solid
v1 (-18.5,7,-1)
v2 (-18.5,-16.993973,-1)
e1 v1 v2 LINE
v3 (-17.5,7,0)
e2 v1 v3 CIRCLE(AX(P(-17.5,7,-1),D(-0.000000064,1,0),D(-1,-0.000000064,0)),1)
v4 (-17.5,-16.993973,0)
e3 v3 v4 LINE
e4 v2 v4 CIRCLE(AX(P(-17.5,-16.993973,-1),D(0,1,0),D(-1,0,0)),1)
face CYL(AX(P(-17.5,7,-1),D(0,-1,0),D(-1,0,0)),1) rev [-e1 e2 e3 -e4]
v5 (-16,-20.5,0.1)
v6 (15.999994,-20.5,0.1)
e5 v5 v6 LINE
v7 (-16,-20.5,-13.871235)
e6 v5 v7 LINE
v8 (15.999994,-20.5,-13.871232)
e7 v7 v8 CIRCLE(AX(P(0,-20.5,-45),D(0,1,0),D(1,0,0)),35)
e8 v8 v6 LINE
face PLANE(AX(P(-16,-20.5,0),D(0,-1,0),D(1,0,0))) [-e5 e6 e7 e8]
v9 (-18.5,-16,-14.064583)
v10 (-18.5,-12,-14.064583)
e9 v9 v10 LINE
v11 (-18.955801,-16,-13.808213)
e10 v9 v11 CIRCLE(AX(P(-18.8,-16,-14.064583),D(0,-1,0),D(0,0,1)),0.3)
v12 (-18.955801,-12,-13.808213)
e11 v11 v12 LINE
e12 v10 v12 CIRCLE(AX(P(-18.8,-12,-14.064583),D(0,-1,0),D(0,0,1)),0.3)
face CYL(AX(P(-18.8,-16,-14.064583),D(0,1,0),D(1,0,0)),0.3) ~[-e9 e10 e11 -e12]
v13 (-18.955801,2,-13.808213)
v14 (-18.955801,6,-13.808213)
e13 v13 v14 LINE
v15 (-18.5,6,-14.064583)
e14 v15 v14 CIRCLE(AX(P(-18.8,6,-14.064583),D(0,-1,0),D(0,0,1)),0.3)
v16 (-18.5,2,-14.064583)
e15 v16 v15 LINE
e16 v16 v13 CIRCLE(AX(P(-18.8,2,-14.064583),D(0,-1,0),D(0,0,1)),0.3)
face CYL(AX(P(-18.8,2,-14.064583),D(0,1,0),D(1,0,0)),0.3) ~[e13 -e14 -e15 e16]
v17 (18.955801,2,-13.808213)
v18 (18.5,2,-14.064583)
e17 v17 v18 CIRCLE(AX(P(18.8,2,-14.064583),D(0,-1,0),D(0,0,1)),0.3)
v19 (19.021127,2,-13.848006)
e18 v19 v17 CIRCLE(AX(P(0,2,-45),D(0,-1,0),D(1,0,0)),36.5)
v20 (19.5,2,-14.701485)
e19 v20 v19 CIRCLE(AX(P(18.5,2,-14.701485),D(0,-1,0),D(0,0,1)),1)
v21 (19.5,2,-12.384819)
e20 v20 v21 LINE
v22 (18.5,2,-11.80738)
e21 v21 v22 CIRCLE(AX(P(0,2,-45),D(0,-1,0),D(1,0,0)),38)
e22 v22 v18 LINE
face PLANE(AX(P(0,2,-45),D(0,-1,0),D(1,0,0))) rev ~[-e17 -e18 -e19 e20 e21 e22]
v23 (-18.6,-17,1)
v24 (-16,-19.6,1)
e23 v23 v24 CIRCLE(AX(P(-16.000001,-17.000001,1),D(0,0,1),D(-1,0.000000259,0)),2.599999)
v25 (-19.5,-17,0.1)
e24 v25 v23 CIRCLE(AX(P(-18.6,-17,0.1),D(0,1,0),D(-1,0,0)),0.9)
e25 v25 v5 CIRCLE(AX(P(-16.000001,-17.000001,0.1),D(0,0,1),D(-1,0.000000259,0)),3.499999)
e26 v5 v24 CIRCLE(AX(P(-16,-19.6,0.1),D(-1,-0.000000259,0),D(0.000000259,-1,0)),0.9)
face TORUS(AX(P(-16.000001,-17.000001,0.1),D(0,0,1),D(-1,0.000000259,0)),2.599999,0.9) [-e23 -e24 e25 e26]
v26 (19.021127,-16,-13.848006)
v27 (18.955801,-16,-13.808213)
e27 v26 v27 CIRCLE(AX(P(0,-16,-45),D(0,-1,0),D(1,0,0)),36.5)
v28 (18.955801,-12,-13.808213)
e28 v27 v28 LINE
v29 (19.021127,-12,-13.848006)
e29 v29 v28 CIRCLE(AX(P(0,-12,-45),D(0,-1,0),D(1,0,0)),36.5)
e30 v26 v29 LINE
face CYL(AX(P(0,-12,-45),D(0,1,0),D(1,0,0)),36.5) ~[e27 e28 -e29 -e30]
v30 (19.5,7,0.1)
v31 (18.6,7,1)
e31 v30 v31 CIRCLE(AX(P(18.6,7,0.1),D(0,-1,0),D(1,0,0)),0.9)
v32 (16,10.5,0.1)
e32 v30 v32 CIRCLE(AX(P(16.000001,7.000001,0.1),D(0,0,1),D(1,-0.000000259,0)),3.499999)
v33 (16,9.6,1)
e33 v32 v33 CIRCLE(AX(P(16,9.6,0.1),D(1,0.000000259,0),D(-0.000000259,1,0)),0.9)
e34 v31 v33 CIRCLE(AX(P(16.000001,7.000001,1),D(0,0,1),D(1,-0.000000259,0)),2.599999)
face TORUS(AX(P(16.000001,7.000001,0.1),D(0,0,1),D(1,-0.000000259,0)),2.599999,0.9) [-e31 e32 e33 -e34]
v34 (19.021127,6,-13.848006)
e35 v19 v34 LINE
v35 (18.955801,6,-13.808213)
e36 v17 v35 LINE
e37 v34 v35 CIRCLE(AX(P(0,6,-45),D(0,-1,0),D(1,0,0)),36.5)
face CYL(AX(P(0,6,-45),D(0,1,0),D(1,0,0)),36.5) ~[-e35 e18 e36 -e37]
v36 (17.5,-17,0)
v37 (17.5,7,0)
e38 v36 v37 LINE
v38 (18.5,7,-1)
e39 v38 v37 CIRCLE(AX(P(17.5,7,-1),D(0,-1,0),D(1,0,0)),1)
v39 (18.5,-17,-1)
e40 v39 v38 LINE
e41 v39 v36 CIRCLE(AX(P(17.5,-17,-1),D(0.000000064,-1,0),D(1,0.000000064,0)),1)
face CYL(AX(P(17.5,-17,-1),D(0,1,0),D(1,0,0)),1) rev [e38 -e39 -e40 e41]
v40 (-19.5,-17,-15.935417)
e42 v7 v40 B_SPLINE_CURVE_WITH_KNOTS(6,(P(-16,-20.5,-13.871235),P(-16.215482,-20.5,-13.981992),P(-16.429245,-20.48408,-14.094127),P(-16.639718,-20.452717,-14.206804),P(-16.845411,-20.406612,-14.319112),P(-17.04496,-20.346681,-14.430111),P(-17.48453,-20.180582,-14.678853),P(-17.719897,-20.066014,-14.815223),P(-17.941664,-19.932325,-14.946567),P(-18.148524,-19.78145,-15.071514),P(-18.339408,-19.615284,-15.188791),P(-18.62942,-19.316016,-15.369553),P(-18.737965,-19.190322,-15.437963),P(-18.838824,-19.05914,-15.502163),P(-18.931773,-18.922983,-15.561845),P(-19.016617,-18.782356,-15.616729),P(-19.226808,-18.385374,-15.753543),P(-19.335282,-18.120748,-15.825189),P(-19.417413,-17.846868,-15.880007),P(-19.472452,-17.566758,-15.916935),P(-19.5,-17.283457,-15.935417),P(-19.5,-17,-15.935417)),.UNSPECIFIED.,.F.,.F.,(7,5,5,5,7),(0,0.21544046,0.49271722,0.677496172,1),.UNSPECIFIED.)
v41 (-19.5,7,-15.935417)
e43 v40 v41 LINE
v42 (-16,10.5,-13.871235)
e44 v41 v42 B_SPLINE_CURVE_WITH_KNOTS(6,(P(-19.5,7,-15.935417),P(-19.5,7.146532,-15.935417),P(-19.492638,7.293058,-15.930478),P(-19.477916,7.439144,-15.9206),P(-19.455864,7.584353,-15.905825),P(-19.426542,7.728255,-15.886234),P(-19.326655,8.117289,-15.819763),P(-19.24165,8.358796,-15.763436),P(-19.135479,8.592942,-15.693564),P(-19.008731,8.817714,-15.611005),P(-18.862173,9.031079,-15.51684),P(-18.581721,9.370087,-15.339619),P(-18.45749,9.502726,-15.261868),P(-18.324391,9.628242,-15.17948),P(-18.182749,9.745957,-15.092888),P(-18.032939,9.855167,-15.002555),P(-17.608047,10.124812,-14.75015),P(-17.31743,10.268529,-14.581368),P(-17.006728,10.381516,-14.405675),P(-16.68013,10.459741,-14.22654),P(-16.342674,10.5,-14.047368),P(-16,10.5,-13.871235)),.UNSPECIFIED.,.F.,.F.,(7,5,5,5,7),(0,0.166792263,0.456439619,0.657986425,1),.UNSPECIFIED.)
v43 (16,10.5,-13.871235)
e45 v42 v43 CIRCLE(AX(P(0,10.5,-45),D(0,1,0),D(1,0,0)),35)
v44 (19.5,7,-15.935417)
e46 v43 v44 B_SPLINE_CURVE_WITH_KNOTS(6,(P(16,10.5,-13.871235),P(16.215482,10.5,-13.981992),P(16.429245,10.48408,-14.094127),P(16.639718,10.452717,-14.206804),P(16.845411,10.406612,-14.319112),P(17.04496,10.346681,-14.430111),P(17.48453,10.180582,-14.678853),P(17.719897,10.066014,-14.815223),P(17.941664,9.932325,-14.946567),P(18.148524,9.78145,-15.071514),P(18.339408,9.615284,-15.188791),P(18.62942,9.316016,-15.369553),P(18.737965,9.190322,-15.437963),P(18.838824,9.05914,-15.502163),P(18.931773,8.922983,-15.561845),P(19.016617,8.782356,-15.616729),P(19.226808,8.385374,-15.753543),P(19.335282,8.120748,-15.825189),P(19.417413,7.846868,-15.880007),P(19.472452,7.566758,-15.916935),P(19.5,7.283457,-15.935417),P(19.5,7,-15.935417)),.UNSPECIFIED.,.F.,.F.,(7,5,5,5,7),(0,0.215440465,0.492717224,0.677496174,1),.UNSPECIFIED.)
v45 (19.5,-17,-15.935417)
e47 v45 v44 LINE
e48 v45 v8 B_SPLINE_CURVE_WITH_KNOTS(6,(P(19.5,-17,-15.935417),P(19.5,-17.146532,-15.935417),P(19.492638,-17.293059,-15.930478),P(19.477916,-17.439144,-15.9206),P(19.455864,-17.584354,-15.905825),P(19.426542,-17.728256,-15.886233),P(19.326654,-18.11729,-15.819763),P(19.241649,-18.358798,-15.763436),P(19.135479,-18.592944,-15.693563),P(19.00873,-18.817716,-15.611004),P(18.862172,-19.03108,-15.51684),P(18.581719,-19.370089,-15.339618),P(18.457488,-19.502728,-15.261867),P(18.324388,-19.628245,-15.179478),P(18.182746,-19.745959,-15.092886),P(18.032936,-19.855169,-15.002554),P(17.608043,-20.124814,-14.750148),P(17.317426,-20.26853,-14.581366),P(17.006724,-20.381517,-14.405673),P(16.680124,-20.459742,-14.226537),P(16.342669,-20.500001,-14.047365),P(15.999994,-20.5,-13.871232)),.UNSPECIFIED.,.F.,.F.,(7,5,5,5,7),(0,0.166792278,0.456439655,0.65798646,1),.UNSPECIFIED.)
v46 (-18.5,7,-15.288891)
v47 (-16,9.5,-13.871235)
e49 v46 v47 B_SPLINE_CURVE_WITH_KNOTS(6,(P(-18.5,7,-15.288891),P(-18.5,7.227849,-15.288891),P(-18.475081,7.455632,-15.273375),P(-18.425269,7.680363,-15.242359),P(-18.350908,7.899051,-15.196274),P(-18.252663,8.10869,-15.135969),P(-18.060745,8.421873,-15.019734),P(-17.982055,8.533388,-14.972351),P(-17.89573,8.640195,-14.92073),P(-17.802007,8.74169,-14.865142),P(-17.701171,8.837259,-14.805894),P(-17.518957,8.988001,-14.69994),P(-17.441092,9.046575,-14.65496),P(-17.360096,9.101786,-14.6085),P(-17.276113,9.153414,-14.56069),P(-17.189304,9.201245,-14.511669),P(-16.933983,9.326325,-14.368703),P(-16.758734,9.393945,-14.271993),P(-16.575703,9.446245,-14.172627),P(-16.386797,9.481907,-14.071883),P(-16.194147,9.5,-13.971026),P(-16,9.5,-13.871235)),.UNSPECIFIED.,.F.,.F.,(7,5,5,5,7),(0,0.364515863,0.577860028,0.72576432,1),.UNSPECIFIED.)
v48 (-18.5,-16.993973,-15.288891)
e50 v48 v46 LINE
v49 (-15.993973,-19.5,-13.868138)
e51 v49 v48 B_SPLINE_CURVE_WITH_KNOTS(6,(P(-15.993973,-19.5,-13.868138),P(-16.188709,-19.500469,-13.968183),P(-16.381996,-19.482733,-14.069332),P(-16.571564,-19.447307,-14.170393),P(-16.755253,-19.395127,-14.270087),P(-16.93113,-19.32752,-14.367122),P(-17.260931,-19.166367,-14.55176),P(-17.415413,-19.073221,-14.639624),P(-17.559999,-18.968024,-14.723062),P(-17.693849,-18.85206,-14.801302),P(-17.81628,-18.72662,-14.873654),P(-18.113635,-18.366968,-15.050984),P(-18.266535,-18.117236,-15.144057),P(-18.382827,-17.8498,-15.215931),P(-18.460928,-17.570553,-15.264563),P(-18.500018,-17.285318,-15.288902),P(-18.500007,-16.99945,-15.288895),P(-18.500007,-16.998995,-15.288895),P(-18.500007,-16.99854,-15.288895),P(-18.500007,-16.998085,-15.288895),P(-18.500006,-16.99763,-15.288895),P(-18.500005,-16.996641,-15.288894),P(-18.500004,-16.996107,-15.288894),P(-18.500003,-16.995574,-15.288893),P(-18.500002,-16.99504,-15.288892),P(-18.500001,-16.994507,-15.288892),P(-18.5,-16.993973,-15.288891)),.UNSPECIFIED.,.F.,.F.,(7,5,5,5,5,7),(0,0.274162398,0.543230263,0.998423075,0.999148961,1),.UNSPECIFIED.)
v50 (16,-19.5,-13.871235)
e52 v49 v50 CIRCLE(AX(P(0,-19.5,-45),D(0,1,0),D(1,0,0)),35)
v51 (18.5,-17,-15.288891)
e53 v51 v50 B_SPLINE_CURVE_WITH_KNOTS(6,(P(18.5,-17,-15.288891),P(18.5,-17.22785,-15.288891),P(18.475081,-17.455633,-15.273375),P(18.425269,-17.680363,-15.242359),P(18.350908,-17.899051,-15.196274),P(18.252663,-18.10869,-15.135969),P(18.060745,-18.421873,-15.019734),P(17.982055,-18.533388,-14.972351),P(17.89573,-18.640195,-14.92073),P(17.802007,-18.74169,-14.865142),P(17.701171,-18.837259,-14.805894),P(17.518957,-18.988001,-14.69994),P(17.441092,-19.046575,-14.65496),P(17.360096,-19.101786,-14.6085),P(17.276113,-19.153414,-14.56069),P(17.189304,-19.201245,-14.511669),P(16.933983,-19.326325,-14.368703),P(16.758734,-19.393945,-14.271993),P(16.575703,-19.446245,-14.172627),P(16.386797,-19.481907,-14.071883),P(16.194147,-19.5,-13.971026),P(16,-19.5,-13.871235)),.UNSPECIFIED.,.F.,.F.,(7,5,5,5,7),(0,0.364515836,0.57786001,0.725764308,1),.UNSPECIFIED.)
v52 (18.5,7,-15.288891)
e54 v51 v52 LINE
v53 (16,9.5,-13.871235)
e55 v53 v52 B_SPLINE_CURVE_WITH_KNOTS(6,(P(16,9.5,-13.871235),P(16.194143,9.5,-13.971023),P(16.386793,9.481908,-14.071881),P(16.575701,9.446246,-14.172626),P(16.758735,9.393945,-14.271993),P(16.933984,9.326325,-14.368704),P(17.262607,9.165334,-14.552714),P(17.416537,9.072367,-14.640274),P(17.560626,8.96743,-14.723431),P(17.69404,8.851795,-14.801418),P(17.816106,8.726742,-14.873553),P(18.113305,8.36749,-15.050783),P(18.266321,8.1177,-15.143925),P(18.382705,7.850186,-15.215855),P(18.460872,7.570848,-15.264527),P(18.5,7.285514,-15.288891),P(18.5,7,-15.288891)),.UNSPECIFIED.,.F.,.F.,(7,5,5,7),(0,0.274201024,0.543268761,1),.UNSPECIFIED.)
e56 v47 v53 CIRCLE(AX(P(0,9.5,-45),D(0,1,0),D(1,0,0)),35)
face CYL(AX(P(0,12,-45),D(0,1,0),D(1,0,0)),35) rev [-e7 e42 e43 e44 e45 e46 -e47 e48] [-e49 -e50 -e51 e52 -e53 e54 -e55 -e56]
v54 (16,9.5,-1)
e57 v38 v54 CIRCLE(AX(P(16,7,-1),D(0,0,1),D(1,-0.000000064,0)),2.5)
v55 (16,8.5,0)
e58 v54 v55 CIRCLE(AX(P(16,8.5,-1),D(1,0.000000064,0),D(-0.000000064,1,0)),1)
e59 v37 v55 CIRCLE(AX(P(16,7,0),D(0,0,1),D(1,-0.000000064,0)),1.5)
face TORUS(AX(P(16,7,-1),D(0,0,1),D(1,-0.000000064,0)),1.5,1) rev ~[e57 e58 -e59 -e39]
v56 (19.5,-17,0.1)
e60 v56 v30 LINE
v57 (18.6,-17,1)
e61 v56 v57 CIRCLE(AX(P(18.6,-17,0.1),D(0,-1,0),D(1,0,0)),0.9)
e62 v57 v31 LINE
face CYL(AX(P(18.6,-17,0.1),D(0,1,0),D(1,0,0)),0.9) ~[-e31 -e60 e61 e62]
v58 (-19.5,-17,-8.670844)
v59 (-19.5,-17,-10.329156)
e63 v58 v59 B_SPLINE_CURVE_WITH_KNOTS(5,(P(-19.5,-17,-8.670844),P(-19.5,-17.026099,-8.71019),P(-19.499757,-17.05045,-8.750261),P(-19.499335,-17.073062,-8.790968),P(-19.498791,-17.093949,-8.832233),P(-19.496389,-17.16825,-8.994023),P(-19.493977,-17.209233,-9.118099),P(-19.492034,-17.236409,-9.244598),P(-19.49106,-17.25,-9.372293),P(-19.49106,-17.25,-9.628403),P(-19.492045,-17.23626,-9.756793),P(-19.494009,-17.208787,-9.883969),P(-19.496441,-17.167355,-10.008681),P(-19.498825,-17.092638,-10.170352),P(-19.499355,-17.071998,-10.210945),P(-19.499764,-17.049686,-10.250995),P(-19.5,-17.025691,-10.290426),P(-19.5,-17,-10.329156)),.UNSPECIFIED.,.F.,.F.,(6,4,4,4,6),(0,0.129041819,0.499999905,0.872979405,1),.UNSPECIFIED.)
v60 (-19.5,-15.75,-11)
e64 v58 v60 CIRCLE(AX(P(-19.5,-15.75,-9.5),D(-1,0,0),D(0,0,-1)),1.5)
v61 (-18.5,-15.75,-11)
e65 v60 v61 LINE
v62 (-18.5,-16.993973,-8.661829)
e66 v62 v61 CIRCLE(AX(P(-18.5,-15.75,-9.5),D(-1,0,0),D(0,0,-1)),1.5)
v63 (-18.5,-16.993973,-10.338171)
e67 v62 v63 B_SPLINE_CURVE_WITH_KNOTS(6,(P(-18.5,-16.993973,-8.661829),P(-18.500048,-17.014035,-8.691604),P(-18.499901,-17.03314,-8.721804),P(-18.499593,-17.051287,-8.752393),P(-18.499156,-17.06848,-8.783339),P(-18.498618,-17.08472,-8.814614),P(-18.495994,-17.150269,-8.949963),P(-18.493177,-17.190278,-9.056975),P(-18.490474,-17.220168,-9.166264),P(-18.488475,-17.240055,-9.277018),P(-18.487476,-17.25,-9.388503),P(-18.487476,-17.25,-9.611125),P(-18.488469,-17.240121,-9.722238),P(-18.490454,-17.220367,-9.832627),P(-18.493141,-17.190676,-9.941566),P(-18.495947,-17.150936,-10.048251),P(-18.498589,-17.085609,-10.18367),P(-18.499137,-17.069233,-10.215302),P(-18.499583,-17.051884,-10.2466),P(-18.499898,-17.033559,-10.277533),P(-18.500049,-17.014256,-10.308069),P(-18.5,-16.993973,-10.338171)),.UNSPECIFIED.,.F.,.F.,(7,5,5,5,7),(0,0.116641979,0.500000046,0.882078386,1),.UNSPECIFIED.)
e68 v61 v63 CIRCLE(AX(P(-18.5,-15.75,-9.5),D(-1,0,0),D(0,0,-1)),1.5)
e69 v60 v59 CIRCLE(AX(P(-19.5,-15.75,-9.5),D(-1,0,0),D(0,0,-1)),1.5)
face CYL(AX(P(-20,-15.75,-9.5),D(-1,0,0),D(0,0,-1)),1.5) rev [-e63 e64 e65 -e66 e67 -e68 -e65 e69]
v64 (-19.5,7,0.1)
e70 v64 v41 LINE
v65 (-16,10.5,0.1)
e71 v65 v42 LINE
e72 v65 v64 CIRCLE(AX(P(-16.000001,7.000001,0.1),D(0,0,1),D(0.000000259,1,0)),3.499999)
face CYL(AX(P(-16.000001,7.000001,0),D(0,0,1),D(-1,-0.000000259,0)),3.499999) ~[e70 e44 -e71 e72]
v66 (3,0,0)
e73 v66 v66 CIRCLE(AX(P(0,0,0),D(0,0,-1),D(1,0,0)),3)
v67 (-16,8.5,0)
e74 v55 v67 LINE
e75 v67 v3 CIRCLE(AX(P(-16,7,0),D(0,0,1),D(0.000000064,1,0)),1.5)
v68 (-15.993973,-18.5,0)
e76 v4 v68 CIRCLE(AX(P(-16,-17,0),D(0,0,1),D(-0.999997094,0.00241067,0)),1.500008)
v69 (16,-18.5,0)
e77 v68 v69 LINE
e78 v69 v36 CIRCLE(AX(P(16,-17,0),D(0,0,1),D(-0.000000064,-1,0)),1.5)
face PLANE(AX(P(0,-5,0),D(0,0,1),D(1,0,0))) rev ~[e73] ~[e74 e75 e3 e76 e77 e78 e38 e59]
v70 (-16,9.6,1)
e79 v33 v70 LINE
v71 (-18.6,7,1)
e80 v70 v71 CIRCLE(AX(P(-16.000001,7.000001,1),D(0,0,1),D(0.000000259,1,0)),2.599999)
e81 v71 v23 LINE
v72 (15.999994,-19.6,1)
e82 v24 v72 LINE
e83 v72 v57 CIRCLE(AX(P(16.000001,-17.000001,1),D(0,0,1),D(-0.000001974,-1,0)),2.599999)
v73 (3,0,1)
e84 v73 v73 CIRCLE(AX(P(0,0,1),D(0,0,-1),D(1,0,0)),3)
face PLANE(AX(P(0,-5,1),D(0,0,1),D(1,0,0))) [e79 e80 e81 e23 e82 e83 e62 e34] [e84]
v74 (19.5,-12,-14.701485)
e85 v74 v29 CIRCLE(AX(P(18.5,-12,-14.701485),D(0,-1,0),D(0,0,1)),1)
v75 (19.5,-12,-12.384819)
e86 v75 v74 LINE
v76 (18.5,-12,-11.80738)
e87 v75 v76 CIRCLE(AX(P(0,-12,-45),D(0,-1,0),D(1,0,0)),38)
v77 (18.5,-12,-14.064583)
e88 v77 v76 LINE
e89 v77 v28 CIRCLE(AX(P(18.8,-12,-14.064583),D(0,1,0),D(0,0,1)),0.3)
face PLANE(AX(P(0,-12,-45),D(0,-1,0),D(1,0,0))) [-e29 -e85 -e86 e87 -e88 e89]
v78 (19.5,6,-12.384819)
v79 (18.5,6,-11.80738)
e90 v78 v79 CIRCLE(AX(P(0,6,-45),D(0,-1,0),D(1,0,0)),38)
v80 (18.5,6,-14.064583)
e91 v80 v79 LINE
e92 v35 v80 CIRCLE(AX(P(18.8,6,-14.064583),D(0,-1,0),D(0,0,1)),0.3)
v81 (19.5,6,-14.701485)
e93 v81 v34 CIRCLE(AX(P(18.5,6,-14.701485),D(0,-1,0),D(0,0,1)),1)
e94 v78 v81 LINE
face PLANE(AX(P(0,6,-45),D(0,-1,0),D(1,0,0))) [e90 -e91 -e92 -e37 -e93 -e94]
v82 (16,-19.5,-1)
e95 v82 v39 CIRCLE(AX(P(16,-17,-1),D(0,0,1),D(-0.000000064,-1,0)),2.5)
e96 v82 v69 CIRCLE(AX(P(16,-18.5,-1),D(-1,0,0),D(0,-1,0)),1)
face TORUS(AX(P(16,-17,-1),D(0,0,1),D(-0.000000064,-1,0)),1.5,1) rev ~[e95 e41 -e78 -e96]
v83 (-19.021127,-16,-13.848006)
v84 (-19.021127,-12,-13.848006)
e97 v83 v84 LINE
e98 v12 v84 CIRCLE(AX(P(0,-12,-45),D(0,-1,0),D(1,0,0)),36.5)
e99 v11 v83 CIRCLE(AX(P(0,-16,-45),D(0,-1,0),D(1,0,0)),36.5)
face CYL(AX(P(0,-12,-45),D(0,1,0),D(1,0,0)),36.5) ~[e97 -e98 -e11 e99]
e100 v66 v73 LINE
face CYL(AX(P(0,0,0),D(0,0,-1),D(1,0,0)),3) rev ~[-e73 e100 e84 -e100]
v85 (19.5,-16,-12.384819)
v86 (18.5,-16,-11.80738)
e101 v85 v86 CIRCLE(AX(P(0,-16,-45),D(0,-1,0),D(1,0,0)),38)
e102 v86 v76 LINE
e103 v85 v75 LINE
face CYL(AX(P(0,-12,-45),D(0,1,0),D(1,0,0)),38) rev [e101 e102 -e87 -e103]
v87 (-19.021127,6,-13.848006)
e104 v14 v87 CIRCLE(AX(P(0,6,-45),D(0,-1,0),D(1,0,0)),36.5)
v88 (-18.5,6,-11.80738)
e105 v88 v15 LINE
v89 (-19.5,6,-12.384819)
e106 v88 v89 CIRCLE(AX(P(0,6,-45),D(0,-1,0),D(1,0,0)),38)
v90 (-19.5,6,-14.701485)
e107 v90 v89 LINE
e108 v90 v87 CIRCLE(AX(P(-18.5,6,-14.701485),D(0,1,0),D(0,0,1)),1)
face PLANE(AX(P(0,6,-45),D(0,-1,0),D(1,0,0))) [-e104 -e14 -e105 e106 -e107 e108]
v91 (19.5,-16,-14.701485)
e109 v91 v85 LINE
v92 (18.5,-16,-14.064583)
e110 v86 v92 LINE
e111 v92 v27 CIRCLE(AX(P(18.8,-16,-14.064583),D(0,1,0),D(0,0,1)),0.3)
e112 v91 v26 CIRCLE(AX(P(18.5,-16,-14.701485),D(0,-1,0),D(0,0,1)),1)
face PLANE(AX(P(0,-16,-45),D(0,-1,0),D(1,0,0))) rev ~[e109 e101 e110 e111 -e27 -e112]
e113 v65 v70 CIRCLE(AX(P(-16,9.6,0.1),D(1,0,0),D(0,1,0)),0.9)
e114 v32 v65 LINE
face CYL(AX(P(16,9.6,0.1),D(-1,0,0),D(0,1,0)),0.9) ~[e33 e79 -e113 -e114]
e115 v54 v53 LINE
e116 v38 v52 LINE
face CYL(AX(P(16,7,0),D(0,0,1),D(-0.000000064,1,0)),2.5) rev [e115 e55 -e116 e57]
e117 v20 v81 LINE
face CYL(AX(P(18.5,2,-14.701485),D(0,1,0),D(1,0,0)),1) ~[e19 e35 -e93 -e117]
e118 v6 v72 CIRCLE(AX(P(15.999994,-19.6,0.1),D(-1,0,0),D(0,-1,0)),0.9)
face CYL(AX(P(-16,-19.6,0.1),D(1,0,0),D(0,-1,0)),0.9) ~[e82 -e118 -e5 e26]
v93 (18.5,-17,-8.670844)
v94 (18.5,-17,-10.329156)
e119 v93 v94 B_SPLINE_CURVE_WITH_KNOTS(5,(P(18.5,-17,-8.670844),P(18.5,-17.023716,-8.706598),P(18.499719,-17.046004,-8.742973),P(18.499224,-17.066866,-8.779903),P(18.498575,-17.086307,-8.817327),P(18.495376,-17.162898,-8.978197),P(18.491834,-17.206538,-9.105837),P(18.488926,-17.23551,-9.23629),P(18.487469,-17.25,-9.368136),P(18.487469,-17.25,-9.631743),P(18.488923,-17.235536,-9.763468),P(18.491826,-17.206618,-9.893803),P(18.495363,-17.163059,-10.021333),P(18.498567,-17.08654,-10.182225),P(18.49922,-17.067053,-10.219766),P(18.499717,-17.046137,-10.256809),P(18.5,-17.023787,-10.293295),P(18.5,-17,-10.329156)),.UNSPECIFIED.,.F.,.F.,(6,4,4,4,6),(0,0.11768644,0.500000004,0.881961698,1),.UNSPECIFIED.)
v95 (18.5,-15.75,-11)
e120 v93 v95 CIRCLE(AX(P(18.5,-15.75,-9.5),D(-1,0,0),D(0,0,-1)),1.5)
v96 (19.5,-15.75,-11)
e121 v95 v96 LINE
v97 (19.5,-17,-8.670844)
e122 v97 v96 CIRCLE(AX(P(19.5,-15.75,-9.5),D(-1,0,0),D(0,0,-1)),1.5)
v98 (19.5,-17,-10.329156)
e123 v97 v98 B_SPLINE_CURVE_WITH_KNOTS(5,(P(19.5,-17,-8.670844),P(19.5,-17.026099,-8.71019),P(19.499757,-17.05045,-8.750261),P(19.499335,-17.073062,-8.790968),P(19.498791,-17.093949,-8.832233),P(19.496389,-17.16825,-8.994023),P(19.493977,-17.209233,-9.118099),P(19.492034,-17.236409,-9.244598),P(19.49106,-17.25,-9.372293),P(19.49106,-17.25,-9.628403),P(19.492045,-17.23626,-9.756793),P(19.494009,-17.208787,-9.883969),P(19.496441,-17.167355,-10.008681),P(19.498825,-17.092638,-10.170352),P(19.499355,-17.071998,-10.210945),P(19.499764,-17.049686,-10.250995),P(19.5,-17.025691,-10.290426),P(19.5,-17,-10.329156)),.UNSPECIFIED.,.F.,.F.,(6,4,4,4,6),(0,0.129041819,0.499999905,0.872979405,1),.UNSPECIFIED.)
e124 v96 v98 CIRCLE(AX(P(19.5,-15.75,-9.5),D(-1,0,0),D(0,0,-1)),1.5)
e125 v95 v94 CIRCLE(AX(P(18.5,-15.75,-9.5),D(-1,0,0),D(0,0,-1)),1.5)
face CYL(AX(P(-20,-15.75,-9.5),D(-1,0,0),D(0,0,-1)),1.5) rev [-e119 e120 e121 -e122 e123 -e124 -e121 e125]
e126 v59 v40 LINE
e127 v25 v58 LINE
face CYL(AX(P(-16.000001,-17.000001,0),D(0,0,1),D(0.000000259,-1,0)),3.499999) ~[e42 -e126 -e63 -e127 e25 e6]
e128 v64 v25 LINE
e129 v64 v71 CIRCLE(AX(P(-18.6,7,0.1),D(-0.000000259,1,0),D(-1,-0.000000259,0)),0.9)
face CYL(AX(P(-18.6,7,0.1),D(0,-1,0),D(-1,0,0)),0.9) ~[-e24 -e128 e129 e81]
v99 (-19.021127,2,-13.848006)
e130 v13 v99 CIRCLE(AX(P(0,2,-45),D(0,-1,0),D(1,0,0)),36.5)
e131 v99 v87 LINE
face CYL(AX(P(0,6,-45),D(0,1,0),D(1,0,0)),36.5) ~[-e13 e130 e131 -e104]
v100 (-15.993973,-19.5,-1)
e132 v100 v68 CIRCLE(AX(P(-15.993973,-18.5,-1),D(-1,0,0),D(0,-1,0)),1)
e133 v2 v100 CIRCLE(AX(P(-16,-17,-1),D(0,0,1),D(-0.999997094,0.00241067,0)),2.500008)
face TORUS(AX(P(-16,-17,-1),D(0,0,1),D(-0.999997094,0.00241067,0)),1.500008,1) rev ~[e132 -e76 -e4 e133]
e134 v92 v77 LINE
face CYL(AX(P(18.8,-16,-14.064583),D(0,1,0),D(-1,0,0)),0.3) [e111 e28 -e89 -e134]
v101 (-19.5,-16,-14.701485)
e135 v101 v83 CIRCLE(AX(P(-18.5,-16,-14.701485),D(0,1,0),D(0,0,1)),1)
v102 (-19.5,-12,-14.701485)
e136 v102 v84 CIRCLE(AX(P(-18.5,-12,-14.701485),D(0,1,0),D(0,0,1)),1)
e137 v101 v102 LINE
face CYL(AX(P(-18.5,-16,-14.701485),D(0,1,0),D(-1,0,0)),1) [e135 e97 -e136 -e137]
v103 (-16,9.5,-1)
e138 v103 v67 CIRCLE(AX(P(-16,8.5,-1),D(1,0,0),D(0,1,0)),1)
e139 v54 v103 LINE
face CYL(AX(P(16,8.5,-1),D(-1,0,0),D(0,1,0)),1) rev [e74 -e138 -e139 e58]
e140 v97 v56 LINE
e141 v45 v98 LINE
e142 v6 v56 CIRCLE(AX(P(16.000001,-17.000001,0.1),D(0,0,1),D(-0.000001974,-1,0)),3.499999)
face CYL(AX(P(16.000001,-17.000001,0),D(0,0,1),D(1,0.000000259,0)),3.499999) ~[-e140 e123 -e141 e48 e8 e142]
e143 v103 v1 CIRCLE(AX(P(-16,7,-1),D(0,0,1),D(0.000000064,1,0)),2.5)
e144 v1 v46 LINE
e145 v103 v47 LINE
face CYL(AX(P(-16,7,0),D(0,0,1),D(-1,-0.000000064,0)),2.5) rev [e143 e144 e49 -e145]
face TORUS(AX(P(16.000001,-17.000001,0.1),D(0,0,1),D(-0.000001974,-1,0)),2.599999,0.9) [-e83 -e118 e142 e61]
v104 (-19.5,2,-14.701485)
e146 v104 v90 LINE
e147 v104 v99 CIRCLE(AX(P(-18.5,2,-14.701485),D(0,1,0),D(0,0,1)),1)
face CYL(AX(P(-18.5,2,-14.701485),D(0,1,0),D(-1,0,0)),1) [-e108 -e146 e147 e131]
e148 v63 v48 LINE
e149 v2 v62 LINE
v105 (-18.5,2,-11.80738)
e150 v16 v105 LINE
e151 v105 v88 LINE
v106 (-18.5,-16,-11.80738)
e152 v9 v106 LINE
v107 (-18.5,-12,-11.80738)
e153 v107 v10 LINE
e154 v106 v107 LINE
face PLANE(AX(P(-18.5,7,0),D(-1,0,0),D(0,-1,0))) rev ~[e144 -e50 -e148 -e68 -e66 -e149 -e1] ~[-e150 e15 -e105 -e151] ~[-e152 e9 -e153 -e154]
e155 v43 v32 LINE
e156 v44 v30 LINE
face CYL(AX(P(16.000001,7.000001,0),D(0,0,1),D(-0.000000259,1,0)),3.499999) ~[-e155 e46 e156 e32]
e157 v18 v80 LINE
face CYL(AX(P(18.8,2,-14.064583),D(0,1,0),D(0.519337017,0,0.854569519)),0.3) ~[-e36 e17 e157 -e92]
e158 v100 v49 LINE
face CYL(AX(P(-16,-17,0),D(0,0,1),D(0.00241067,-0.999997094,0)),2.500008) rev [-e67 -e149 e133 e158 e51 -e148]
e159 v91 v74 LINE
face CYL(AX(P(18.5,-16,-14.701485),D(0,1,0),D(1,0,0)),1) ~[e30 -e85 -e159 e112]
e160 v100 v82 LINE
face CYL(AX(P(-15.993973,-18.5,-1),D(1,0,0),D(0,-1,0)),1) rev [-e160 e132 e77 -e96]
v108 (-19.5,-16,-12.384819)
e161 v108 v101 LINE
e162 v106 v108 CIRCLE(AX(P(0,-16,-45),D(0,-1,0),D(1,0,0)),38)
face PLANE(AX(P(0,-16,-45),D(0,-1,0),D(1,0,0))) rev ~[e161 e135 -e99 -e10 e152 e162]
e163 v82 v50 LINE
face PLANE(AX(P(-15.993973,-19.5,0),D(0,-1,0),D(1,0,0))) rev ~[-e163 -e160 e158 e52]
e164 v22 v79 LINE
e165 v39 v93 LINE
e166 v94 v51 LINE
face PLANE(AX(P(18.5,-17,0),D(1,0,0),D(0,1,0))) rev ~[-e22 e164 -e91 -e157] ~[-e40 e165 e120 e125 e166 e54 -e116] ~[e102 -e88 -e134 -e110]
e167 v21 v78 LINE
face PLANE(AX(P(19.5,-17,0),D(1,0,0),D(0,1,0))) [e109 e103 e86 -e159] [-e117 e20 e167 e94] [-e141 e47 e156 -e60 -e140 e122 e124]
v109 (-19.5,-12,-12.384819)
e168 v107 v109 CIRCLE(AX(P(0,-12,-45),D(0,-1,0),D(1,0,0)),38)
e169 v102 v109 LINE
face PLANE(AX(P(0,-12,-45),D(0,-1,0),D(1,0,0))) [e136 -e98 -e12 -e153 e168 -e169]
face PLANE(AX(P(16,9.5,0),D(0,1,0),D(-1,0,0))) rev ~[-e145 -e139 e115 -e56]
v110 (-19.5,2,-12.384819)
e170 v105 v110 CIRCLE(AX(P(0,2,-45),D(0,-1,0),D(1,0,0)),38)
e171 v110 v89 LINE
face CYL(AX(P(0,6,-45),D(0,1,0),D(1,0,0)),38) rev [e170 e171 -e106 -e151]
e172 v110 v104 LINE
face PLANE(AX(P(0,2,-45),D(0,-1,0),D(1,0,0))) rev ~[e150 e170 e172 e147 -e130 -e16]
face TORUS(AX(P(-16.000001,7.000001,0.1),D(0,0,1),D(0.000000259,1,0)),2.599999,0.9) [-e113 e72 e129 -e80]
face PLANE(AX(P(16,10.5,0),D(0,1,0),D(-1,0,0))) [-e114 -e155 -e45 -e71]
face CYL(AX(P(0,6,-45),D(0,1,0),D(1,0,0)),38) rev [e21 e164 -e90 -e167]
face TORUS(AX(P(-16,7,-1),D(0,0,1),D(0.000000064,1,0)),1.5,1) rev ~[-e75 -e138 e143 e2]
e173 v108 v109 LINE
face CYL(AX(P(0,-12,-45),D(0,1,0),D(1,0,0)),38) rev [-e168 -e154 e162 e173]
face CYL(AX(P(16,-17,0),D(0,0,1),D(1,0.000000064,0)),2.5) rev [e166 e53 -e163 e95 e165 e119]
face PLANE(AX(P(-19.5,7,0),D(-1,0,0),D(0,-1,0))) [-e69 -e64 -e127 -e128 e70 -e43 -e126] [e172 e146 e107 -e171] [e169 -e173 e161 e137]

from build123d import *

# Parameters (mm, degrees)
CYLINDER004_R     = 36.5
CYLINDER004_DEPTH = 4
CYLINDER005_R     = 38
CYLINDER005_DEPTH = 4
CYLINDER003_R     = 36.5
CYLINDER003_DEPTH = 4
CYLINDER002_R     = 38
CYLINDER002_DEPTH = 4
CYLINDER001_R     = 1.5
CYLINDER001_DEPTH = 40
CYLINDER_R        = 35
CYLINDER_DEPTH    = 35
PAD_DEPTH         = 1
SKETCH001_R       = 3
HOLE_DEPTH        = 25
PAD001_DEPTH      = 18
FILLET_1_R        = 1
FILLET_2_R        = 0.9
FILLET001_R       = 1
FILLET002_R       = 0.3


with BuildPart() as cylinder004:
    # Cylinder004 → Cylinder004 (new body)
    with BuildSketch(Plane(origin=(0, 0, -45), x_dir=(1, 0, 0), z_dir=(0, -1, 0))):
        Circle(CYLINDER004_R)
    extrude(amount=CYLINDER004_DEPTH)


with BuildPart() as cut003:
    # Cylinder005 → Cylinder005 (new body)
    with BuildSketch(Plane(origin=(0, 0, -45), x_dir=(1, 0, 0), z_dir=(0, -1, 0))):
        Circle(CYLINDER005_R)
    extrude(amount=CYLINDER005_DEPTH)

    # Cut003: cut Cylinder004
    add(cylinder004.part, mode=Mode.SUBTRACT)


with BuildPart() as cut003_1:
    # Cut003 placement: moved
    add(cut003.part.moved(Location((0, -12, 0))))


with BuildPart() as cylinder003:
    # Cylinder003 → Cylinder003 (new body)
    with BuildSketch(Plane(origin=(0, 0, -45), x_dir=(1, 0, 0), z_dir=(0, -1, 0))):
        Circle(CYLINDER003_R)
    extrude(amount=CYLINDER003_DEPTH)


with BuildPart() as fusion:
    # Cylinder002 → Cylinder002 (new body)
    with BuildSketch(Plane(origin=(0, 0, -45), x_dir=(1, 0, 0), z_dir=(0, -1, 0))):
        Circle(CYLINDER002_R)
    extrude(amount=CYLINDER002_DEPTH)

    # Cut002: cut Cylinder003
    add(cylinder003.part, mode=Mode.SUBTRACT)


with BuildPart() as fusion_1:
    # Cut002 placement: moved
    add(fusion.part.moved(Location((0, 6, 0))))

    # Fusion: union Cut003
    add(cut003_1.part)


with BuildPart() as cylinder001:
    # Cylinder001 → Cylinder001 (new body)
    with BuildSketch(Plane(origin=(-20, -15.75, -9.5), x_dir=(0, 0, -1), z_dir=(1, 0, 0))):
        Circle(CYLINDER001_R)
    extrude(amount=CYLINDER001_DEPTH)


with BuildPart() as cylinder:
    # Cylinder → Cylinder (new body)
    with BuildSketch(Plane(origin=(0, 12, -45), x_dir=(1, 0, 0), z_dir=(0, -1, 0))):
        Circle(CYLINDER_R)
    extrude(amount=CYLINDER_DEPTH)


with BuildPart() as fillet002:
    # Sketch → Pad (new body)
    with BuildSketch(Plane.XY):
        with BuildLine():
            ThreePointArc((-16, 10.5), (-18.474874, 9.474874), (-19.5, 7))
            Line((-19.5, 7), (-19.5, -17))
            ThreePointArc((-19.5, -17), (-18.474874, -19.474874), (-16, -20.5))
            Line((-16, -20.5), (15.999994, -20.5))
            ThreePointArc((15.999994, -20.5), (18.474872, -19.474876), (19.5, -17))
            Line((19.5, -17), (19.5, 7))
            ThreePointArc((19.5, 7), (18.474874, 9.474874), (16, 10.5))
            Line((16, 10.5), (-16, 10.5))
        make_face()
    extrude(amount=PAD_DEPTH)

    # Sketch001 (on Face9 of Pad) → Hole (cut)
    with BuildSketch(Plane(origin=(0, 0, 0), x_dir=(1, 0, 0), z_dir=(0, 0, -1))):
        Circle(SKETCH001_R)
    extrude(amount=-HOLE_DEPTH, mode=Mode.SUBTRACT)

    # Sketch002 (on Face4 of Hole) → Pad001 (join)
    with BuildSketch(Plane(origin=(0, 0, 0), x_dir=(1, 0, 0), z_dir=(0, 0, -1))):
        with BuildLine():
            Line((-16, 20.5), (15.999994, 20.5))
            ThreePointArc((19.5, 17), (18.474872, 19.474876), (15.999994, 20.5))
            Line((19.5, 17), (19.5, -7))
            ThreePointArc((16, -10.5), (18.474874, -9.474874), (19.5, -7))
            Line((16, -10.5), (-16, -10.5))
            ThreePointArc((-19.5, -7), (-18.474874, -9.474874), (-16, -10.5))
            Line((-19.5, -7), (-19.5, 17))
            ThreePointArc((-16, 20.5), (-18.474874, 19.474874), (-19.5, 17))
        make_face()
        with BuildLine():
            ThreePointArc((-18.5, -7), (-17.767767, -8.767767), (-16, -9.5))
            Line((16, -9.5), (-16, -9.5))
            ThreePointArc((16, -9.5), (17.767767, -8.767767), (18.5, -7))
            Line((18.5, 17), (18.5, -7))
            ThreePointArc((18.5, 17), (17.767767, 18.767767), (16, 19.5))
            Line((-15.993973, 19.5), (16, 19.5))
            ThreePointArc((-15.993973, 19.5), (-17.767772, 18.767772), (-18.5, 16.993973))
            Line((-18.5, -7), (-18.5, 16.993973))
        make_face(mode=Mode.SUBTRACT)
    extrude(amount=PAD001_DEPTH)

    # Cut: cut Cylinder
    add(cylinder.part, mode=Mode.SUBTRACT)

    # Cut001: cut Cylinder001
    add(cylinder001.part, mode=Mode.SUBTRACT)

    # Fillet 1
    fillet_1_edges = [fillet002.edges().sort_by_distance(p)[0] for p in [
        (0.003014, -19.5, 0),
    ]]
    fillet(fillet_1_edges, radius=FILLET_1_R)

    # Fillet 2
    fillet_2_edges = [fillet002.edges().sort_by_distance(p)[0] for p in [
        (19.5, -5, 1),
    ]]
    fillet(fillet_2_edges, radius=FILLET_2_R)

    # Cut004: cut Fusion
    add(fusion_1.part, mode=Mode.SUBTRACT)

    # Fillet001
    fillet001_edges = [fillet002.edges().sort_by_distance(p)[0] for p in [
        (-19.5, 4, -14.145503),
        (-19.5, -14, -14.145503),
        (19.5, -14, -14.145503),
        (19.5, 4, -14.145503),
    ]]
    fillet(fillet001_edges, radius=FILLET001_R)

    # Fillet002
    fillet002_edges = [fillet002.edges().sort_by_distance(p)[0] for p in [
        (-18.5, 4, -13.535735),
        (-18.5, -14, -13.535735),
        (18.5, -14, -13.535735),
        (18.5, 4, -13.535735),
    ]]
    fillet(fillet002_edges, radius=FILLET002_R)


solid = fillet002.part
